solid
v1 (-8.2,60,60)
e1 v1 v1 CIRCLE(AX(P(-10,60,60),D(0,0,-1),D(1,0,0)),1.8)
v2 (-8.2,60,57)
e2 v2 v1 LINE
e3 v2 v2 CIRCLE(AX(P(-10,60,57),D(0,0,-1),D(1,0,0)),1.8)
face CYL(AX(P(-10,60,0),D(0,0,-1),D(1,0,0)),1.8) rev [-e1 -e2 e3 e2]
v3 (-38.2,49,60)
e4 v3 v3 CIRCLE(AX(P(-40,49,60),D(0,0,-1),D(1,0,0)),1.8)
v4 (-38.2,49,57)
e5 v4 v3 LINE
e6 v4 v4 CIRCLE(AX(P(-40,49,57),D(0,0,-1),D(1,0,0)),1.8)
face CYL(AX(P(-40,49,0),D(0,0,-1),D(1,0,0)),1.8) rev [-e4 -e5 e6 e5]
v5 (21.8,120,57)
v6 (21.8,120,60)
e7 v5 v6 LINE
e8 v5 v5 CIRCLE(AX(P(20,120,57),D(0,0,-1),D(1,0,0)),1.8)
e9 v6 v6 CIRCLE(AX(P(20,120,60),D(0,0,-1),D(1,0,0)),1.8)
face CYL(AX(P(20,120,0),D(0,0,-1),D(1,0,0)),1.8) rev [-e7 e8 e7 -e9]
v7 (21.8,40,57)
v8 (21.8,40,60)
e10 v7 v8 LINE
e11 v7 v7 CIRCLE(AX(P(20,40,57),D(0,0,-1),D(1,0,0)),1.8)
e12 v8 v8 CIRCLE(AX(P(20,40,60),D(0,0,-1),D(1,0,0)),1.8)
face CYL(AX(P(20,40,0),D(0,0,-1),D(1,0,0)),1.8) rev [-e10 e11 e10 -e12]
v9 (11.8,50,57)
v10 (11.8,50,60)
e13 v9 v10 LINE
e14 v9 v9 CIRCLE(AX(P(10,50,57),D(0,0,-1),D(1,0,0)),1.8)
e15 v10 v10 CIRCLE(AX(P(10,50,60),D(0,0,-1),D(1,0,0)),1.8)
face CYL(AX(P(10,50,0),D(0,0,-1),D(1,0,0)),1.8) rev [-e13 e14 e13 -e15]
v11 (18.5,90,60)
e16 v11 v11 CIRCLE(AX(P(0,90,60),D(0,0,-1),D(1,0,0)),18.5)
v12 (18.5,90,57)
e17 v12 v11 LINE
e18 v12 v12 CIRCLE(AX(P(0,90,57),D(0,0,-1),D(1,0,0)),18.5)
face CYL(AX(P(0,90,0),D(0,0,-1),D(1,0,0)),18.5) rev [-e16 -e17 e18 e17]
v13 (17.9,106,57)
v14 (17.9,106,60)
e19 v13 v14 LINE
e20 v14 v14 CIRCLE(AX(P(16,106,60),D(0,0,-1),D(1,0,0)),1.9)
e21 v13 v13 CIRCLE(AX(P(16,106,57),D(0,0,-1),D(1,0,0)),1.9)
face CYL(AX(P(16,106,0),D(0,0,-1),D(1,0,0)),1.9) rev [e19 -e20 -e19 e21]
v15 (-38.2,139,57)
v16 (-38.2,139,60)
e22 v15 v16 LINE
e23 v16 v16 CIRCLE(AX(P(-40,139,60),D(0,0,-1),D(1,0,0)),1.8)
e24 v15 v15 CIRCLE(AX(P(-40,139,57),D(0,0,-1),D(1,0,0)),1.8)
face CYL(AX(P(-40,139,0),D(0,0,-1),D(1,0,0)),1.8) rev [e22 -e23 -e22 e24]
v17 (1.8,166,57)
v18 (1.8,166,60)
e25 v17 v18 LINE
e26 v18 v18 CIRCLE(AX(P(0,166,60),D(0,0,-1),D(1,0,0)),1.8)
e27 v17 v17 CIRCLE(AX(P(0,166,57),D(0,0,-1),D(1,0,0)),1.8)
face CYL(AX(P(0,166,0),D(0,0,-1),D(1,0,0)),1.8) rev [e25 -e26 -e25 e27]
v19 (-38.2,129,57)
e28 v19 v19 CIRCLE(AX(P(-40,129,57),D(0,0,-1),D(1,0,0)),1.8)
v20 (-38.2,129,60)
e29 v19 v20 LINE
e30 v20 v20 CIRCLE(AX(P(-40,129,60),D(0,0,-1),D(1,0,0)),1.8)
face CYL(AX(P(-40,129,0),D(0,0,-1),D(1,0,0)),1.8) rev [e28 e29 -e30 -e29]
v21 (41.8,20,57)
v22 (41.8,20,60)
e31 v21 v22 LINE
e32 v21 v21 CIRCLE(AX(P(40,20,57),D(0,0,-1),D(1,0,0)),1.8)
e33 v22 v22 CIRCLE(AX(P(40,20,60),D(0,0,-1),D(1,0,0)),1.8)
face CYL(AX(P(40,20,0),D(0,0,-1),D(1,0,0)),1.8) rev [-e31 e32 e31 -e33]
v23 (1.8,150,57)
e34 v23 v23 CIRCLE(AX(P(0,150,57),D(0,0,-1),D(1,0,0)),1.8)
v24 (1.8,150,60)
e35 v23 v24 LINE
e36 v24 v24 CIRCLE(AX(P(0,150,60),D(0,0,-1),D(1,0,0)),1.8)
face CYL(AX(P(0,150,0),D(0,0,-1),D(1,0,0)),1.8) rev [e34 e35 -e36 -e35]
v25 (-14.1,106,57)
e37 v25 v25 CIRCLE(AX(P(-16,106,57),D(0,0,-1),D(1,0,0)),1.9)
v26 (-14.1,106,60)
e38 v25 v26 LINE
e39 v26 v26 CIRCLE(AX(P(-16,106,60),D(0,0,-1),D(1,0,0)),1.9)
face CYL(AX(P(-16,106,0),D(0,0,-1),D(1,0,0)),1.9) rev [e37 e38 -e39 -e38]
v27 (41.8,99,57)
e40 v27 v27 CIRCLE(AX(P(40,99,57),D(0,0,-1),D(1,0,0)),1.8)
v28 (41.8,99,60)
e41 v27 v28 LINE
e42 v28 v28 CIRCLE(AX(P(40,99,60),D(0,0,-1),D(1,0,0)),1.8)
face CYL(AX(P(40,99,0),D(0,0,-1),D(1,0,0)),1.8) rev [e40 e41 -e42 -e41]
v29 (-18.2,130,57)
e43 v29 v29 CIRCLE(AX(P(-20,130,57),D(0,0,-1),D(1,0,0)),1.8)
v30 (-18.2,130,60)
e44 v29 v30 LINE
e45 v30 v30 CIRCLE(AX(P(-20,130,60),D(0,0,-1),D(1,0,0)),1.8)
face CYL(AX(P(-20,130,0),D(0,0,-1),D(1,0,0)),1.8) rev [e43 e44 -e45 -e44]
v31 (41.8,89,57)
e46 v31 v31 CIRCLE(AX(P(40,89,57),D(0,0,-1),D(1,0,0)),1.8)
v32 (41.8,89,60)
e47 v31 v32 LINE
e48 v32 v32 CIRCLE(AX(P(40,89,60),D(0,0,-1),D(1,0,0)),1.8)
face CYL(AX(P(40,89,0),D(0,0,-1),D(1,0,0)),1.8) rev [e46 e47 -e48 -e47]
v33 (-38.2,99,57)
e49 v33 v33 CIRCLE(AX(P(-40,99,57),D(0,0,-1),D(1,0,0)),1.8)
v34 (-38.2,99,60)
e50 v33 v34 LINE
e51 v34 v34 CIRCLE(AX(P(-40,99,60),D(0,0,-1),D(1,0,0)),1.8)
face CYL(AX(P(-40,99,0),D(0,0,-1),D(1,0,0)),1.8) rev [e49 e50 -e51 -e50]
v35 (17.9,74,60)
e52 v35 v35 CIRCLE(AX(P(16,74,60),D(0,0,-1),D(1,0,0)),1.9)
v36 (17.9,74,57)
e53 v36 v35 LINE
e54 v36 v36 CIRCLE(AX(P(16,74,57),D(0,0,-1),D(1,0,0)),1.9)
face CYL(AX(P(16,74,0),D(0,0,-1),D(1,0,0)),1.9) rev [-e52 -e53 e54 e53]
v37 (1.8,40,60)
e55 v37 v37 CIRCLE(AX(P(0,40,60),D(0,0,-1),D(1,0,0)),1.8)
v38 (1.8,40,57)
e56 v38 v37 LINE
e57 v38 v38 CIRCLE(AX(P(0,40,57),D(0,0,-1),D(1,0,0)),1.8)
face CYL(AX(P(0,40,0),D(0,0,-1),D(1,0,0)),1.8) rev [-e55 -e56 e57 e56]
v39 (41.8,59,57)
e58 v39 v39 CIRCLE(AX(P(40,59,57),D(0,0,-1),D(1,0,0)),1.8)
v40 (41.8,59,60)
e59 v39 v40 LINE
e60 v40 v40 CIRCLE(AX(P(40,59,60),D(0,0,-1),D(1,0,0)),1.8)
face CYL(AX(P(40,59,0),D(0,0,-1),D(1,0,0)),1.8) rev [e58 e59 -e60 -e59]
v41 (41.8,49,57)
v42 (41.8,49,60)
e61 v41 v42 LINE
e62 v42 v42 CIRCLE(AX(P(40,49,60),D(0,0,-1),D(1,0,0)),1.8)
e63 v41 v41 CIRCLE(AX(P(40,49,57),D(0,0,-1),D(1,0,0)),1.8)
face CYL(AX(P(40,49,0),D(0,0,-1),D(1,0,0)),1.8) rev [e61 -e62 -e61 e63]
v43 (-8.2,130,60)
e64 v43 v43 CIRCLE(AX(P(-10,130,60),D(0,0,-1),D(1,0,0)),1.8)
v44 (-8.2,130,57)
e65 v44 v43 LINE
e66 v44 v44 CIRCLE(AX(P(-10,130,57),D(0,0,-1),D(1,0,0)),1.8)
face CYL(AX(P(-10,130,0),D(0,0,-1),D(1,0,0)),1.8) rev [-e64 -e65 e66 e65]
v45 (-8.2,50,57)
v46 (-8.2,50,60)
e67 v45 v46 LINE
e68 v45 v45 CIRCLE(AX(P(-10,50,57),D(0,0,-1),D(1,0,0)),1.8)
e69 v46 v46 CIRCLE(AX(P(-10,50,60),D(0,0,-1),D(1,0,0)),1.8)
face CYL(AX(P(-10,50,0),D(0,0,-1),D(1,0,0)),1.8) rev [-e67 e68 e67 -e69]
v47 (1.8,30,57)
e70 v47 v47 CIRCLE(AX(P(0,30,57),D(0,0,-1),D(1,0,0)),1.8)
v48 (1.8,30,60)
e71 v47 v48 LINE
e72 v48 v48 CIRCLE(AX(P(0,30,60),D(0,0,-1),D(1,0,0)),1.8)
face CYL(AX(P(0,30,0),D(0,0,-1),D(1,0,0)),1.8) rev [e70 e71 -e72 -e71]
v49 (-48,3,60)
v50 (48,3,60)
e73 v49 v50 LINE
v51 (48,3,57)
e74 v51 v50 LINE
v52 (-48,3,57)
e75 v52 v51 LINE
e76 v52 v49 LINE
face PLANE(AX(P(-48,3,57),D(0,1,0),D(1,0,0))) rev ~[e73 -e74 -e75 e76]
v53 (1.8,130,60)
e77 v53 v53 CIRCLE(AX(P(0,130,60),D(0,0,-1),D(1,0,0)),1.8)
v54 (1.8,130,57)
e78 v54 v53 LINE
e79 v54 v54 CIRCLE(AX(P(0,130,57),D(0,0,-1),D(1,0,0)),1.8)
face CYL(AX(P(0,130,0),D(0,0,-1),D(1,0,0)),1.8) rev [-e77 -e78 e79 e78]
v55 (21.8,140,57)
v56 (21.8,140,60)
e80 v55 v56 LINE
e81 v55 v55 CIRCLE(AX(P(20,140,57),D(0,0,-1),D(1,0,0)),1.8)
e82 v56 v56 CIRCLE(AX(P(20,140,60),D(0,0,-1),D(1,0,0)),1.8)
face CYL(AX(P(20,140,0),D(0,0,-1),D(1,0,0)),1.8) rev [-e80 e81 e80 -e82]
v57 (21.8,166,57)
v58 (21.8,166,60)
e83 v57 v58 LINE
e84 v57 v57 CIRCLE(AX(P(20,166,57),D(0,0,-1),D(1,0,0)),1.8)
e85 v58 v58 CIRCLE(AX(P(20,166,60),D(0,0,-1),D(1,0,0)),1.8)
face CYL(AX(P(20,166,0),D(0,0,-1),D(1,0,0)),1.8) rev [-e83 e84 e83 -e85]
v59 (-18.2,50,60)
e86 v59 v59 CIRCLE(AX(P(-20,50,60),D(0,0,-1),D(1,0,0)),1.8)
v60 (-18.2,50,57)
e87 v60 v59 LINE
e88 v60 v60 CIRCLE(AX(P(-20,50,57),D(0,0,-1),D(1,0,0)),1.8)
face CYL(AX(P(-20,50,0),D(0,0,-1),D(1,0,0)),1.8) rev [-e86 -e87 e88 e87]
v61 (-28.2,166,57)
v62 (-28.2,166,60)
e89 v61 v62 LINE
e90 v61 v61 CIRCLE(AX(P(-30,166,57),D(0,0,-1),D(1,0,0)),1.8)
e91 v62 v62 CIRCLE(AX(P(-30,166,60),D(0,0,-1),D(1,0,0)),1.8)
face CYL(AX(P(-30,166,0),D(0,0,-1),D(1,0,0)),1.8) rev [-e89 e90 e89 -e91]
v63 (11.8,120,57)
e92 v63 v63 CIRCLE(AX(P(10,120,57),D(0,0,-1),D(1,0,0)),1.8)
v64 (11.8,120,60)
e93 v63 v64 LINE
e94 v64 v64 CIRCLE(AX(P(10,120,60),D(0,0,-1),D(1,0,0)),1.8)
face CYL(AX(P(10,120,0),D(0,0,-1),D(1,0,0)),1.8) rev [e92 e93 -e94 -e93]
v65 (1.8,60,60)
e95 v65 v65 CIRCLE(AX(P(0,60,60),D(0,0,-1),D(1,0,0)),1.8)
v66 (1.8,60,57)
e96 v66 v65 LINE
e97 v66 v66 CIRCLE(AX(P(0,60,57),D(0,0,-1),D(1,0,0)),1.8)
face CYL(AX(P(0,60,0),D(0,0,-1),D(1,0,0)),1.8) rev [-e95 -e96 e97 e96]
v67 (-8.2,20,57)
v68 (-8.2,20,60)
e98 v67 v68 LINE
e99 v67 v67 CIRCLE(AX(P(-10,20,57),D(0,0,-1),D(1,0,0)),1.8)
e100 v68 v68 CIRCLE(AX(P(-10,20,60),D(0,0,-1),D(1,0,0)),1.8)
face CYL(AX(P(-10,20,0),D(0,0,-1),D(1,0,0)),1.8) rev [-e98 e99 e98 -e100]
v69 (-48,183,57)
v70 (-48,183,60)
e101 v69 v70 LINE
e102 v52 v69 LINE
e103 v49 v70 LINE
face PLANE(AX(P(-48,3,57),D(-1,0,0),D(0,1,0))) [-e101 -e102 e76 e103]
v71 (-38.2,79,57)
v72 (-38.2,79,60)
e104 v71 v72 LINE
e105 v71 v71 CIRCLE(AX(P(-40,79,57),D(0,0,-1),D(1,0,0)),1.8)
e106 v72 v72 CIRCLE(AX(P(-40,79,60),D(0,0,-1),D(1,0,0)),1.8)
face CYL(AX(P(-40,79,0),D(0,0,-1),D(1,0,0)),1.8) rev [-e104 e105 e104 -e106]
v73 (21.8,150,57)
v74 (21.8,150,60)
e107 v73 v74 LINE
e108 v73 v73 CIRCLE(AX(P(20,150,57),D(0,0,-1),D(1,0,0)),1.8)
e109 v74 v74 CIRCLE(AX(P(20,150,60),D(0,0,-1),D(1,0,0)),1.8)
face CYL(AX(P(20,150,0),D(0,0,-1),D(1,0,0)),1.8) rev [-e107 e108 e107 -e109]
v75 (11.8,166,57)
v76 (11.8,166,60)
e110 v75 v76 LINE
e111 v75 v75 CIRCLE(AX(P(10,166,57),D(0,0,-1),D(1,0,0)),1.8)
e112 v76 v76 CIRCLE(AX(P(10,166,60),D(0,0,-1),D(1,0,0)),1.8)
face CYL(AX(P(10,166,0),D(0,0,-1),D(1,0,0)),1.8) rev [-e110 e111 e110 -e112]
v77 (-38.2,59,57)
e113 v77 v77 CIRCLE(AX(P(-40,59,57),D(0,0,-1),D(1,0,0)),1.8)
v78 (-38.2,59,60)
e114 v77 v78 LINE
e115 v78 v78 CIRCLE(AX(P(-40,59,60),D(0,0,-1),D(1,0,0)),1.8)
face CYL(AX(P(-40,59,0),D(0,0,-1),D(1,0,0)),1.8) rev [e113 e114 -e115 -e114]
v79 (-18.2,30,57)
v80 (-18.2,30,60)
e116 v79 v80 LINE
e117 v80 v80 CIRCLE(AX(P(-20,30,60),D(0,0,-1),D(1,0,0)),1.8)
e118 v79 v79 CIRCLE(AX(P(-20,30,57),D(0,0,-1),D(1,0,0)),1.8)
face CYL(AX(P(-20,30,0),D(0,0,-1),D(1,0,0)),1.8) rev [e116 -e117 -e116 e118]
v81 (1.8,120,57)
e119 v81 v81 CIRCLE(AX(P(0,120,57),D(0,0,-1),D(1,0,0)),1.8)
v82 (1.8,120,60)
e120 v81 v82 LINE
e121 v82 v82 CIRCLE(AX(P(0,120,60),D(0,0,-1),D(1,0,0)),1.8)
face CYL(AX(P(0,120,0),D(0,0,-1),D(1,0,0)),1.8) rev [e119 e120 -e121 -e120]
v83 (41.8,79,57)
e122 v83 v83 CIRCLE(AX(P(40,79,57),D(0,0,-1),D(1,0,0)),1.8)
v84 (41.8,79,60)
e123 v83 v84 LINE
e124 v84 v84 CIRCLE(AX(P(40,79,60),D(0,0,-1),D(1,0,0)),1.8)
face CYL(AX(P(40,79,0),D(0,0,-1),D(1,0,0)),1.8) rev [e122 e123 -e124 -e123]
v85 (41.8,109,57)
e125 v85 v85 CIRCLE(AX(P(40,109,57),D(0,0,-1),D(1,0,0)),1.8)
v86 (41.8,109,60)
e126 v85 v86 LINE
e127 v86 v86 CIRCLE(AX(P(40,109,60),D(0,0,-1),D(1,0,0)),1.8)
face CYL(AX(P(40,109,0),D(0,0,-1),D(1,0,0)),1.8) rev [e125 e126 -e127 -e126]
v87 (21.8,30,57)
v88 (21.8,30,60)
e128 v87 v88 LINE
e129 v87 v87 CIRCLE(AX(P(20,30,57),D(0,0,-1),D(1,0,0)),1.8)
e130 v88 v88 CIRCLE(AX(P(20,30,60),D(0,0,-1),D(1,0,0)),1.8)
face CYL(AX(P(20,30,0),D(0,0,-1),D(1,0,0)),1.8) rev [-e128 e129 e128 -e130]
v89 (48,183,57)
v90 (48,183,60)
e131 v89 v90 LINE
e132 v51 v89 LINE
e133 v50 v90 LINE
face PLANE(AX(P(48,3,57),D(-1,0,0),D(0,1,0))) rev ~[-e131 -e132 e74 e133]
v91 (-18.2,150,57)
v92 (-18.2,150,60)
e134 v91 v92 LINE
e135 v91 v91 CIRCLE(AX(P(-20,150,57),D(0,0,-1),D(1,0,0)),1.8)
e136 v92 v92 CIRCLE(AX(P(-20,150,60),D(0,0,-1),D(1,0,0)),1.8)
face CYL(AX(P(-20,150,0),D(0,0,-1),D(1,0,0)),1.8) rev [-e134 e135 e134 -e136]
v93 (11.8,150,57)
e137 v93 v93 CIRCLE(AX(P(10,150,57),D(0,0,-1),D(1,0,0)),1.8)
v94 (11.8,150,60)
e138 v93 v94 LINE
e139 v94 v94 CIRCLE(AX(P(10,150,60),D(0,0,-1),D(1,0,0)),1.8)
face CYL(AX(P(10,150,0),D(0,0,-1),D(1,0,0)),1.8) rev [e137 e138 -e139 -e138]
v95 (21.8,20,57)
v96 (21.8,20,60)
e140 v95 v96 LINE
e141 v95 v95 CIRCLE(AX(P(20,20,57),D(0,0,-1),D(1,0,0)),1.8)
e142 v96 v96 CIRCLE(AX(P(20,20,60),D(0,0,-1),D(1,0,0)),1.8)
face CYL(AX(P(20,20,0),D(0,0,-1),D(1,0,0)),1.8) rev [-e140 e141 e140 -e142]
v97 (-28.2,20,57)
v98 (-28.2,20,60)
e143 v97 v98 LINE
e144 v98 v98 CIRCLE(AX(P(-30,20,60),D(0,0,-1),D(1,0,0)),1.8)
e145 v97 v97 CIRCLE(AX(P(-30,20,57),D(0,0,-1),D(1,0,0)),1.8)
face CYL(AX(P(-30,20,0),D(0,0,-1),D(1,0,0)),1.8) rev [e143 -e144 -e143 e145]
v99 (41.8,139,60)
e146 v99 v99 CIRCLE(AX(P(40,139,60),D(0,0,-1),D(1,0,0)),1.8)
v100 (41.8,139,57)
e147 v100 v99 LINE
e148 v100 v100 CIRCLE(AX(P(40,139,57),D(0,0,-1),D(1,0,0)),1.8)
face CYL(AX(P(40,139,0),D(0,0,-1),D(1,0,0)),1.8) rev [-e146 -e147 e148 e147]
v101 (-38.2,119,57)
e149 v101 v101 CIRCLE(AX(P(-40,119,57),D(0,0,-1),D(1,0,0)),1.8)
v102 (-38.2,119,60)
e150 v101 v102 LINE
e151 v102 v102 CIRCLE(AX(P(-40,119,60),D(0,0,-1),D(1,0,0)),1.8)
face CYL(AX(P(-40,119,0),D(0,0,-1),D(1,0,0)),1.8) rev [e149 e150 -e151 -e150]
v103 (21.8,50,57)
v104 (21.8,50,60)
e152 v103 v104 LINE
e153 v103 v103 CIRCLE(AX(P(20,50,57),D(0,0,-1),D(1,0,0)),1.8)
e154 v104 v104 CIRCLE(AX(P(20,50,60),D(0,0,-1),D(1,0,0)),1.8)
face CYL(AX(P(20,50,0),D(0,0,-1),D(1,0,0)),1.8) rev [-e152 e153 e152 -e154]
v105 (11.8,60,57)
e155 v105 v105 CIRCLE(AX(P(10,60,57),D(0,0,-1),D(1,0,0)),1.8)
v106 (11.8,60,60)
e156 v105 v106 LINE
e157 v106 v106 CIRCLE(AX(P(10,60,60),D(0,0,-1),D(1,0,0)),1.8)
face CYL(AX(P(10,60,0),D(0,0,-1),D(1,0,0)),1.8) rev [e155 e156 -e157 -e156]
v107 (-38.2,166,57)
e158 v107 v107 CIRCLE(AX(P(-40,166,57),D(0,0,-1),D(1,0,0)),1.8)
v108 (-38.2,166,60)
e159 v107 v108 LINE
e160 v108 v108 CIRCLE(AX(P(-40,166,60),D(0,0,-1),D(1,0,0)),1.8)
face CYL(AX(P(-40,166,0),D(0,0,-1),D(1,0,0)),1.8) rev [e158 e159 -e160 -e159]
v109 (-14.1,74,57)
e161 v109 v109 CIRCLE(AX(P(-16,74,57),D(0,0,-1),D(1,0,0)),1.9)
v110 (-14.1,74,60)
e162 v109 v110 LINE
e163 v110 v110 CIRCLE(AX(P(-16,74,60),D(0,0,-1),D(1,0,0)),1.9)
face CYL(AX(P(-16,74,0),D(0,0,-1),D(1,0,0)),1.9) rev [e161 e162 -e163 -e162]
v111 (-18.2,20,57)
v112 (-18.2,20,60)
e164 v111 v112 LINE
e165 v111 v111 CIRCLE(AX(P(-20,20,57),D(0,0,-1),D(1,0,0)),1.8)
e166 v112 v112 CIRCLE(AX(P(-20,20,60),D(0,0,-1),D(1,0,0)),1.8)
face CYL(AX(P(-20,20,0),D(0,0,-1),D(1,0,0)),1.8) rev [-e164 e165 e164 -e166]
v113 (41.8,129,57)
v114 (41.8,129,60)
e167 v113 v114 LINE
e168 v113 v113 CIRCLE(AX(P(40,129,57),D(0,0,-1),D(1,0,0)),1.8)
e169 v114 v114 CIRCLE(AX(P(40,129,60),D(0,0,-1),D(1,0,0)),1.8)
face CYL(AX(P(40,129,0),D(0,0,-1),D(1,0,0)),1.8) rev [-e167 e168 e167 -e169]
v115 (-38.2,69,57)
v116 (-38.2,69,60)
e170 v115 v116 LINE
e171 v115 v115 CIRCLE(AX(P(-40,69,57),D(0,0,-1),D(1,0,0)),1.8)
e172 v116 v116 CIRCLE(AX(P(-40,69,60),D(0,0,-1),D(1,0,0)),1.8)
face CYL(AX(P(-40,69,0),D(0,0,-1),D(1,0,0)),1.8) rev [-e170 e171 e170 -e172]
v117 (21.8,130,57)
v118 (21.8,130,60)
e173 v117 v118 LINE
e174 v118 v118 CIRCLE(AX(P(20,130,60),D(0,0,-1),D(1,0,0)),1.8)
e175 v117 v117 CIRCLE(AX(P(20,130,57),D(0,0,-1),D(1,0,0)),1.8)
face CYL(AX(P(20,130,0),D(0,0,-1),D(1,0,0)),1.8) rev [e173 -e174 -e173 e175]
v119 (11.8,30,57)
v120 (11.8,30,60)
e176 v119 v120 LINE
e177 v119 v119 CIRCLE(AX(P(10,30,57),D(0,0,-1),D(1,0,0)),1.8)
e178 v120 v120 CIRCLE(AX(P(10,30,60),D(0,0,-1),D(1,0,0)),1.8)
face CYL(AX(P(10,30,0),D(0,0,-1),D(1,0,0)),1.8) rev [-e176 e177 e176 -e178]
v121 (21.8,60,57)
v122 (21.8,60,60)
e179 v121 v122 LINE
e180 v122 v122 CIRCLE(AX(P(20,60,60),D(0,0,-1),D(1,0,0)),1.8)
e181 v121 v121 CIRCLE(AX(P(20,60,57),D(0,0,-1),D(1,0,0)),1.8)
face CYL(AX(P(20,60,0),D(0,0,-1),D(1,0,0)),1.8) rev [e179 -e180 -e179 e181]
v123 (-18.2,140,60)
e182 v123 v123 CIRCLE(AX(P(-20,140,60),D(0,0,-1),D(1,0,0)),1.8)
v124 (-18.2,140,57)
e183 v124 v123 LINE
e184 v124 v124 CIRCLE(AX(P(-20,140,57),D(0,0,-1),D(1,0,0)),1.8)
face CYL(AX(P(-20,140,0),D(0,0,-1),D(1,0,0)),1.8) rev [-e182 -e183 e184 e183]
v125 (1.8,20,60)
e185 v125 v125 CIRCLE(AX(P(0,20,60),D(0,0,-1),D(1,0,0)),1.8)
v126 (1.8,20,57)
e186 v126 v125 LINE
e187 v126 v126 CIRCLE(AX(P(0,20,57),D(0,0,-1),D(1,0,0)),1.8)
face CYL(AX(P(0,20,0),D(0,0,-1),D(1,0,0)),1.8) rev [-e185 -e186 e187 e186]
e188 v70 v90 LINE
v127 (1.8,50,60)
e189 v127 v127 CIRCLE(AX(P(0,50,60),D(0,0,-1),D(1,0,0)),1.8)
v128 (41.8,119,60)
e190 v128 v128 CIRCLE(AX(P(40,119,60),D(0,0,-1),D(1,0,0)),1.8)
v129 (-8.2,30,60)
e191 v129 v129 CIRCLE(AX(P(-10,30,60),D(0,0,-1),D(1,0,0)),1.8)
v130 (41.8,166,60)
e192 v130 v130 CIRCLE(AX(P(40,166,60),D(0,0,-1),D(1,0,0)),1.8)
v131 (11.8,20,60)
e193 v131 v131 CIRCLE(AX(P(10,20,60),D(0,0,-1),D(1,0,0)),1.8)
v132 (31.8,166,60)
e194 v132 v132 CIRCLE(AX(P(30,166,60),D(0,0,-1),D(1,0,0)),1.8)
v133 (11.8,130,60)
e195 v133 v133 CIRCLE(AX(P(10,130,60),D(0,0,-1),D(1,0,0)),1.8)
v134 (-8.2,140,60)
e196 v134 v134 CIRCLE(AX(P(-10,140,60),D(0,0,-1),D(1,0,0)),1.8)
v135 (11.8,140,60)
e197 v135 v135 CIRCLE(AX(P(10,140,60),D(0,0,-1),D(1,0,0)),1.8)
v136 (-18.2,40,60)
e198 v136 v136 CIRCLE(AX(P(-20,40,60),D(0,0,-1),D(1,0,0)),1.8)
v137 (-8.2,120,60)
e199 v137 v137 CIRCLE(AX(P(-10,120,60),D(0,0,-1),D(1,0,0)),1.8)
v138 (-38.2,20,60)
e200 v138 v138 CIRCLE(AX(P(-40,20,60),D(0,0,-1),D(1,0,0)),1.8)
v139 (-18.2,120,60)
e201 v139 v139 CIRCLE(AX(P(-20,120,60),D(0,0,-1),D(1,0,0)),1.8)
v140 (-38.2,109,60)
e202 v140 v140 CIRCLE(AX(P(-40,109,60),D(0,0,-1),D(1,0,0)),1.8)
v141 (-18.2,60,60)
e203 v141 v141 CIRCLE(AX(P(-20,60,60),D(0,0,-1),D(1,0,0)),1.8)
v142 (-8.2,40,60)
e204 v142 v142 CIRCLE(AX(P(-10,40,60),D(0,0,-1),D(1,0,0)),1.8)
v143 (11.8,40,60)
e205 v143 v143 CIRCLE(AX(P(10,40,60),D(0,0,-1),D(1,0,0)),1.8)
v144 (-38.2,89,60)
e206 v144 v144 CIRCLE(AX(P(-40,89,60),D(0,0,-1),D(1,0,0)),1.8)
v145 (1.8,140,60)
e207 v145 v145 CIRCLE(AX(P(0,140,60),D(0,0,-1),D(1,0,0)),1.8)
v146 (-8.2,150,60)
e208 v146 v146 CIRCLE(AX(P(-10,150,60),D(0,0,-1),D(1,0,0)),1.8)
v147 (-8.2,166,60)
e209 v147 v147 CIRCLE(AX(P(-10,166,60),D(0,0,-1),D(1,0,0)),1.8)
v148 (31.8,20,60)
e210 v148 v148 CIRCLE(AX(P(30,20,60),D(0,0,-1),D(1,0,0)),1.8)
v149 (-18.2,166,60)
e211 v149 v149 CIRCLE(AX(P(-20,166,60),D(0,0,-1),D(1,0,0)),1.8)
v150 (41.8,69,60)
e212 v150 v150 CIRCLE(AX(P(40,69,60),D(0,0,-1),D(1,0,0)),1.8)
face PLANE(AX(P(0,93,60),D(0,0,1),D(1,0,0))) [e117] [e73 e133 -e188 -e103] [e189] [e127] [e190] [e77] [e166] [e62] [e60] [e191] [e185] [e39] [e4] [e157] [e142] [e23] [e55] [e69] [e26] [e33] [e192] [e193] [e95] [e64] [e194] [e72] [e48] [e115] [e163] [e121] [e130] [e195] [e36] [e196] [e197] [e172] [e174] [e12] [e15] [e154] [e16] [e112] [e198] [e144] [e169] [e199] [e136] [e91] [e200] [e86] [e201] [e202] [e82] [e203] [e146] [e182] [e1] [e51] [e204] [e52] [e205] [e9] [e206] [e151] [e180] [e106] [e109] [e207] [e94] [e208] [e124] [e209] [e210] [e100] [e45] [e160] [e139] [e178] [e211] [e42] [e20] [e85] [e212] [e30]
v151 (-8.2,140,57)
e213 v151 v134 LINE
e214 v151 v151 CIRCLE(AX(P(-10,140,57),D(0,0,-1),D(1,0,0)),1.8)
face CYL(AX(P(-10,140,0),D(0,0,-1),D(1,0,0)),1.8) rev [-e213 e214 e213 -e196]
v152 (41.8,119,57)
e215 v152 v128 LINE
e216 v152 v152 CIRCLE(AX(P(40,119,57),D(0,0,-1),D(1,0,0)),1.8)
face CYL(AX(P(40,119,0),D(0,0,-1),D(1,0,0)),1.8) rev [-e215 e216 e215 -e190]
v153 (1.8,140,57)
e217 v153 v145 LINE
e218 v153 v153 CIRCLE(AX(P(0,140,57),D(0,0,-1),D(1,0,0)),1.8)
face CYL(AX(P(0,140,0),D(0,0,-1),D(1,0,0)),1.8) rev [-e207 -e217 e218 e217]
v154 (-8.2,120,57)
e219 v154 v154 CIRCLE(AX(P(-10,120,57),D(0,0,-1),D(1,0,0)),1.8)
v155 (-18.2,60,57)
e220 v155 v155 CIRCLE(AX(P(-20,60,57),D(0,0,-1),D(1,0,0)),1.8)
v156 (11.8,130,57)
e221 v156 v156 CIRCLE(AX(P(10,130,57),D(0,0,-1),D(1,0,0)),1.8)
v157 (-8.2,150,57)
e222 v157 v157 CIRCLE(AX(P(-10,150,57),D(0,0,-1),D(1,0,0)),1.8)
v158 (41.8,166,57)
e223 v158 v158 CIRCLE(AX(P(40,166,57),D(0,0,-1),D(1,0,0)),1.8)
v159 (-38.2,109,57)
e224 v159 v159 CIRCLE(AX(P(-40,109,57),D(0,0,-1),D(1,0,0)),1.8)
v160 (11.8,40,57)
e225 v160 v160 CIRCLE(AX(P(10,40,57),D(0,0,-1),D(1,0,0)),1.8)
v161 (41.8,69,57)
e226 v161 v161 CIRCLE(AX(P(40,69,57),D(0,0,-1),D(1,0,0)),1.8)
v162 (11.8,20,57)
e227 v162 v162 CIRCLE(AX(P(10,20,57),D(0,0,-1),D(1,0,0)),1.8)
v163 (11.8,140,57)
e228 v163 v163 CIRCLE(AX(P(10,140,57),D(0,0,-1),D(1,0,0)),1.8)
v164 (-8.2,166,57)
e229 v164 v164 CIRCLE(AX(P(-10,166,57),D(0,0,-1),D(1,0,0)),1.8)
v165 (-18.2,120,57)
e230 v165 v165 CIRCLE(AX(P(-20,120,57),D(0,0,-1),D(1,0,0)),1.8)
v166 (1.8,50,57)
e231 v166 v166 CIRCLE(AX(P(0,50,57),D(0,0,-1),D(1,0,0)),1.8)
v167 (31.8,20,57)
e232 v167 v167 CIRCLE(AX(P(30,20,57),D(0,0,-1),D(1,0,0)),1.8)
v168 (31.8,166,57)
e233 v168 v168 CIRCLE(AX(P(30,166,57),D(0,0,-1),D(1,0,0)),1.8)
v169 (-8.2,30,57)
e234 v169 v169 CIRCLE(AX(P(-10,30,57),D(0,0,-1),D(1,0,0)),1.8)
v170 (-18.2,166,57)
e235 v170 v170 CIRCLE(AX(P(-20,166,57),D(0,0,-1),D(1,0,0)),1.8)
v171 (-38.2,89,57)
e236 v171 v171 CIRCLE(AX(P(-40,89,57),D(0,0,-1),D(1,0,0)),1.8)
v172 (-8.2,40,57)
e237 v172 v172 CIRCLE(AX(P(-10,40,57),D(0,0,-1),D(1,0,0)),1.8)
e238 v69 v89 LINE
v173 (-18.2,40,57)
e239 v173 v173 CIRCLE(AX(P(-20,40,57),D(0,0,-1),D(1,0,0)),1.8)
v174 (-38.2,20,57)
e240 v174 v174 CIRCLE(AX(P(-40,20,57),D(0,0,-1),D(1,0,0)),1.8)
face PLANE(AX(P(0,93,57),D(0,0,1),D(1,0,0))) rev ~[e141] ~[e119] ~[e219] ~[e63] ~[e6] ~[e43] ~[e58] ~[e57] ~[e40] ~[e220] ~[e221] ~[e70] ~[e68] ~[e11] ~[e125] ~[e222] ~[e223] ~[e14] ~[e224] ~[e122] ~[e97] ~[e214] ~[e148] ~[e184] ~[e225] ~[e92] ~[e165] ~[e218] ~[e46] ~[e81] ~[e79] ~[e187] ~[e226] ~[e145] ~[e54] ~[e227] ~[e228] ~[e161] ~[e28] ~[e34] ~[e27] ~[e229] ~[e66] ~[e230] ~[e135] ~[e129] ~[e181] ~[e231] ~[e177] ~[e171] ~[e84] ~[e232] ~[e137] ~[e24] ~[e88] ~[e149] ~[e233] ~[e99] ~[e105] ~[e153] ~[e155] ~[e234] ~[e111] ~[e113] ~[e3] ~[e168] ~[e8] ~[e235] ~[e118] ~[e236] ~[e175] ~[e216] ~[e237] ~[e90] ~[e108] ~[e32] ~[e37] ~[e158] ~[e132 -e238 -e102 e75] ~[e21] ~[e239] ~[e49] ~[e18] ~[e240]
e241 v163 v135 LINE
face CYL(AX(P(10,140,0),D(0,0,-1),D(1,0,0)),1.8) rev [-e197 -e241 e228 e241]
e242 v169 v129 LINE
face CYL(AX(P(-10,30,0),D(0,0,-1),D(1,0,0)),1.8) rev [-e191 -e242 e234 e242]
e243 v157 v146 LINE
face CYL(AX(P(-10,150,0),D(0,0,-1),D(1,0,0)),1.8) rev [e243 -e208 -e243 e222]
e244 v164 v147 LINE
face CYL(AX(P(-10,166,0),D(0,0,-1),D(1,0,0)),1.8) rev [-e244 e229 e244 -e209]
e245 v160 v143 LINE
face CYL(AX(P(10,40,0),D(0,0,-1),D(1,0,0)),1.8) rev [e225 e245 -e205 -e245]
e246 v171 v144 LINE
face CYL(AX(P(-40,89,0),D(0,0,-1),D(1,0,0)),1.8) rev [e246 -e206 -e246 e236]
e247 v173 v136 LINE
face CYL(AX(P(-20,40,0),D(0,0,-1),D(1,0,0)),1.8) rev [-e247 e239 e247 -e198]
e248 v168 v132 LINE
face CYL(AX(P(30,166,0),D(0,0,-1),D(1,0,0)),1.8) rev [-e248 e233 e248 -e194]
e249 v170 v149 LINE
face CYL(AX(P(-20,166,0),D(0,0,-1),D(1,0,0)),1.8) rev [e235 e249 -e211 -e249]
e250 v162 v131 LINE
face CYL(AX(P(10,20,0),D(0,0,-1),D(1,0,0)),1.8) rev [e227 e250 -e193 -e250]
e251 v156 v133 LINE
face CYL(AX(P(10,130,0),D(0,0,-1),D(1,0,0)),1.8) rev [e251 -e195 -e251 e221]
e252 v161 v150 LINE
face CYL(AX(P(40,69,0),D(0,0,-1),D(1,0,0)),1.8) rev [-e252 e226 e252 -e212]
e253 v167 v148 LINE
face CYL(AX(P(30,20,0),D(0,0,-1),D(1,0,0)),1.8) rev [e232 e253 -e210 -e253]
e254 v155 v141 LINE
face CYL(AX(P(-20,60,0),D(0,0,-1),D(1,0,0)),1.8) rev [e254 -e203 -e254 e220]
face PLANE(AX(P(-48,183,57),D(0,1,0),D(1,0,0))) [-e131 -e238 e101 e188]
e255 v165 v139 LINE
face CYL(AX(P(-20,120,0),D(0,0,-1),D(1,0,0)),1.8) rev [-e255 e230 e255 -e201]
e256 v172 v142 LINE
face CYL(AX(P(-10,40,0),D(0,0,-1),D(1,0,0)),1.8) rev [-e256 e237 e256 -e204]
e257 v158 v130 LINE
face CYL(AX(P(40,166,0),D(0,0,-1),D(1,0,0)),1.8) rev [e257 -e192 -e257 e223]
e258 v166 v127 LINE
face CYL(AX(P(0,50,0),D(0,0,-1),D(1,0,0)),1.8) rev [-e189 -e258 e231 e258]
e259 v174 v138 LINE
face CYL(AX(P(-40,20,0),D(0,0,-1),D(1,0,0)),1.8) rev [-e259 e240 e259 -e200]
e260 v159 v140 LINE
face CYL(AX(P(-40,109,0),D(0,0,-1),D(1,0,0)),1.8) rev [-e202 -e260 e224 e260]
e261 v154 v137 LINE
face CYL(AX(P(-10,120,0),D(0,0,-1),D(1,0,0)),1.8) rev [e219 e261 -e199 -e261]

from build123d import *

# Parameters (mm, degrees)
CYLINDER004_R     = 1.8
CYLINDER004_DEPTH = 200
ARRAY003_X_COUNT  = 9
ARRAY003_X_PITCH  = 10
ARRAY003_Y_COUNT  = 2
ARRAY003_Y_PITCH  = 146
BOX011_W          = 50
BOX011_H          = 50
BOX011_DEPTH      = 100
CYLINDER012_R     = 1.8
CYLINDER012_DEPTH = 100
ARRAY008_X_COUNT  = 5
ARRAY008_X_PITCH  = 10
ARRAY008_Y_COUNT  = 13
ARRAY008_Y_PITCH  = 10
CYLINDER011_R     = 18.5
CYLINDER011_DEPTH = 100
CYLINDER010_R     = 1.9
CYLINDER010_DEPTH = 100
ARRAY007_X_COUNT  = 2
ARRAY007_X_PITCH  = 32
ARRAY007_Y_COUNT  = 2
ARRAY007_Y_PITCH  = 32
CYLINDER006_R     = 1.8
CYLINDER006_DEPTH = 200
ARRAY005_X_COUNT  = 2
ARRAY005_X_PITCH  = 80
ARRAY005_Y_COUNT  = 10
ARRAY005_Y_PITCH  = 10
BOX009_W          = 96
BOX009_H          = 180
BOX009_DEPTH      = 3


with BuildPart() as psu_bottom_bolt_hole_array:
    # Cylinder004 → Cylinder004 (new body)
    with BuildSketch(Plane(origin=(-40, 20, 0), x_dir=(1, 0, 0), z_dir=(0, 0, 1))):
        Circle(CYLINDER004_R)
    extrude(amount=CYLINDER004_DEPTH)

    # Array003 X: psu bottom bolt hole array ×9


with BuildPart() as psu_bottom_bolt_hole_array_1:
    add(psu_bottom_bolt_hole_array.part)
    with Locations(*[(i * ARRAY003_X_PITCH, 0, 0) for i in range(1, ARRAY003_X_COUNT)]):
        add(psu_bottom_bolt_hole_array.part)

    # Array003 Y: psu bottom bolt hole array ×2


with BuildPart() as psu_bottom_bolt_hole_array_2:
    add(psu_bottom_bolt_hole_array_1.part)
    with Locations(*[(0, i * ARRAY003_Y_PITCH, 0) for i in range(1, ARRAY003_Y_COUNT)]):
        add(psu_bottom_bolt_hole_array_1.part)


with BuildPart() as no_vent_hole_cube:
    # Box011 → Box011 (new body)
    with BuildSketch(Plane(origin=(-25, 66, 0), x_dir=(1, 0, 0), z_dir=(0, 0, 1))):
        with Locations((25, 25)):
            Rectangle(BOX011_W, BOX011_H)
    extrude(amount=BOX011_DEPTH)


with BuildPart() as vent_holes_cut:
    # Cylinder012 → Cylinder012 (new body)
    with BuildSketch(Plane.XY):
        Circle(CYLINDER012_R)
    extrude(amount=CYLINDER012_DEPTH)

    # Array008 X: vent holes cut ×5


with BuildPart() as vent_holes_cut_1:
    add(vent_holes_cut.part)
    with Locations(*[(i * ARRAY008_X_PITCH, 0, 0) for i in range(1, ARRAY008_X_COUNT)]):
        add(vent_holes_cut.part)

    # Array008 Y: vent holes cut ×13


with BuildPart() as vent_holes_cut_2:
    add(vent_holes_cut_1.part)
    with Locations(*[(0, i * ARRAY008_Y_PITCH, 0) for i in range(1, ARRAY008_Y_COUNT)]):
        add(vent_holes_cut_1.part)


with BuildPart() as vent_holes_cut_3:
    # Array008 placement: moved
    add(vent_holes_cut_2.part.moved(Location((-20, 30, 0))))

    # Cut012: cut no vent hole cube
    add(no_vent_hole_cube.part, mode=Mode.SUBTRACT)


with BuildPart() as fan_hole:
    # Cylinder011 → Cylinder011 (new body)
    with BuildSketch(Plane.XY):
        Circle(CYLINDER011_R)
    extrude(amount=CYLINDER011_DEPTH)


with BuildPart() as fan_hole_fusion:
    # Cylinder010 → Cylinder010 (new body)
    with BuildSketch(Plane.XY):
        Circle(CYLINDER010_R)
    extrude(amount=CYLINDER010_DEPTH)

    # Array007 X: fan hole fusion ×2


with BuildPart() as fan_hole_fusion_1:
    add(fan_hole_fusion.part)
    with Locations(*[(i * ARRAY007_X_PITCH, 0, 0) for i in range(1, ARRAY007_X_COUNT)]):
        add(fan_hole_fusion.part)

    # Array007 Y: fan hole fusion ×2


with BuildPart() as fan_hole_fusion_2:
    add(fan_hole_fusion_1.part)
    with Locations(*[(0, i * ARRAY007_Y_PITCH, 0) for i in range(1, ARRAY007_Y_COUNT)]):
        add(fan_hole_fusion_1.part)


with BuildPart() as fan_hole_fusion_3:
    # Array007 placement: moved
    add(fan_hole_fusion_2.part.moved(Location((-16, -16, 0))))

    # Fusion011: union fan hole
    add(fan_hole.part)


with BuildPart() as fan_hole_fusion_4:
    # Fusion011 placement: moved
    add(fan_hole_fusion_3.part.moved(Location((0, 90, 0))))


with BuildPart() as top_hole_fusion:
    # Cylinder006 → Cylinder006 (new body)
    with BuildSketch(Plane(origin=(-40, 9, 0), x_dir=(1, 0, 0), z_dir=(0, 0, 1))):
        Circle(CYLINDER006_R)
    extrude(amount=CYLINDER006_DEPTH)

    # Array005 X: top hole fusion ×2


with BuildPart() as top_hole_fusion_1:
    add(top_hole_fusion.part)
    with Locations(*[(i * ARRAY005_X_PITCH, 0, 0) for i in range(1, ARRAY005_X_COUNT)]):
        add(top_hole_fusion.part)

    # Array005 Y: top hole fusion ×10


with BuildPart() as top_hole_fusion_2:
    add(top_hole_fusion_1.part)
    with Locations(*[(0, i * ARRAY005_Y_PITCH, 0) for i in range(1, ARRAY005_Y_COUNT)]):
        add(top_hole_fusion_1.part)


with BuildPart() as top_hole_fusion_3:
    # Array005 placement: moved
    add(top_hole_fusion_2.part.moved(Location((0, 40, 0))))

    # Fusion012: union psu bottom bolt hole array, vent holes cut, fan hole fusion
    add(psu_bottom_bolt_hole_array_2.part)
    add(vent_holes_cut_3.part)
    add(fan_hole_fusion_4.part)


with BuildPart() as psu_top_cut:
    # Box009 → Box009 (new body)
    with BuildSketch(Plane(origin=(-48, 3, 57), x_dir=(1, 0, 0), z_dir=(0, 0, 1))):
        with Locations((48, 90)):
            Rectangle(BOX009_W, BOX009_H)
    extrude(amount=BOX009_DEPTH)

    # Cut010: cut top hole fusion
    add(top_hole_fusion_3.part, mode=Mode.SUBTRACT)


solid = psu_top_cut.part
